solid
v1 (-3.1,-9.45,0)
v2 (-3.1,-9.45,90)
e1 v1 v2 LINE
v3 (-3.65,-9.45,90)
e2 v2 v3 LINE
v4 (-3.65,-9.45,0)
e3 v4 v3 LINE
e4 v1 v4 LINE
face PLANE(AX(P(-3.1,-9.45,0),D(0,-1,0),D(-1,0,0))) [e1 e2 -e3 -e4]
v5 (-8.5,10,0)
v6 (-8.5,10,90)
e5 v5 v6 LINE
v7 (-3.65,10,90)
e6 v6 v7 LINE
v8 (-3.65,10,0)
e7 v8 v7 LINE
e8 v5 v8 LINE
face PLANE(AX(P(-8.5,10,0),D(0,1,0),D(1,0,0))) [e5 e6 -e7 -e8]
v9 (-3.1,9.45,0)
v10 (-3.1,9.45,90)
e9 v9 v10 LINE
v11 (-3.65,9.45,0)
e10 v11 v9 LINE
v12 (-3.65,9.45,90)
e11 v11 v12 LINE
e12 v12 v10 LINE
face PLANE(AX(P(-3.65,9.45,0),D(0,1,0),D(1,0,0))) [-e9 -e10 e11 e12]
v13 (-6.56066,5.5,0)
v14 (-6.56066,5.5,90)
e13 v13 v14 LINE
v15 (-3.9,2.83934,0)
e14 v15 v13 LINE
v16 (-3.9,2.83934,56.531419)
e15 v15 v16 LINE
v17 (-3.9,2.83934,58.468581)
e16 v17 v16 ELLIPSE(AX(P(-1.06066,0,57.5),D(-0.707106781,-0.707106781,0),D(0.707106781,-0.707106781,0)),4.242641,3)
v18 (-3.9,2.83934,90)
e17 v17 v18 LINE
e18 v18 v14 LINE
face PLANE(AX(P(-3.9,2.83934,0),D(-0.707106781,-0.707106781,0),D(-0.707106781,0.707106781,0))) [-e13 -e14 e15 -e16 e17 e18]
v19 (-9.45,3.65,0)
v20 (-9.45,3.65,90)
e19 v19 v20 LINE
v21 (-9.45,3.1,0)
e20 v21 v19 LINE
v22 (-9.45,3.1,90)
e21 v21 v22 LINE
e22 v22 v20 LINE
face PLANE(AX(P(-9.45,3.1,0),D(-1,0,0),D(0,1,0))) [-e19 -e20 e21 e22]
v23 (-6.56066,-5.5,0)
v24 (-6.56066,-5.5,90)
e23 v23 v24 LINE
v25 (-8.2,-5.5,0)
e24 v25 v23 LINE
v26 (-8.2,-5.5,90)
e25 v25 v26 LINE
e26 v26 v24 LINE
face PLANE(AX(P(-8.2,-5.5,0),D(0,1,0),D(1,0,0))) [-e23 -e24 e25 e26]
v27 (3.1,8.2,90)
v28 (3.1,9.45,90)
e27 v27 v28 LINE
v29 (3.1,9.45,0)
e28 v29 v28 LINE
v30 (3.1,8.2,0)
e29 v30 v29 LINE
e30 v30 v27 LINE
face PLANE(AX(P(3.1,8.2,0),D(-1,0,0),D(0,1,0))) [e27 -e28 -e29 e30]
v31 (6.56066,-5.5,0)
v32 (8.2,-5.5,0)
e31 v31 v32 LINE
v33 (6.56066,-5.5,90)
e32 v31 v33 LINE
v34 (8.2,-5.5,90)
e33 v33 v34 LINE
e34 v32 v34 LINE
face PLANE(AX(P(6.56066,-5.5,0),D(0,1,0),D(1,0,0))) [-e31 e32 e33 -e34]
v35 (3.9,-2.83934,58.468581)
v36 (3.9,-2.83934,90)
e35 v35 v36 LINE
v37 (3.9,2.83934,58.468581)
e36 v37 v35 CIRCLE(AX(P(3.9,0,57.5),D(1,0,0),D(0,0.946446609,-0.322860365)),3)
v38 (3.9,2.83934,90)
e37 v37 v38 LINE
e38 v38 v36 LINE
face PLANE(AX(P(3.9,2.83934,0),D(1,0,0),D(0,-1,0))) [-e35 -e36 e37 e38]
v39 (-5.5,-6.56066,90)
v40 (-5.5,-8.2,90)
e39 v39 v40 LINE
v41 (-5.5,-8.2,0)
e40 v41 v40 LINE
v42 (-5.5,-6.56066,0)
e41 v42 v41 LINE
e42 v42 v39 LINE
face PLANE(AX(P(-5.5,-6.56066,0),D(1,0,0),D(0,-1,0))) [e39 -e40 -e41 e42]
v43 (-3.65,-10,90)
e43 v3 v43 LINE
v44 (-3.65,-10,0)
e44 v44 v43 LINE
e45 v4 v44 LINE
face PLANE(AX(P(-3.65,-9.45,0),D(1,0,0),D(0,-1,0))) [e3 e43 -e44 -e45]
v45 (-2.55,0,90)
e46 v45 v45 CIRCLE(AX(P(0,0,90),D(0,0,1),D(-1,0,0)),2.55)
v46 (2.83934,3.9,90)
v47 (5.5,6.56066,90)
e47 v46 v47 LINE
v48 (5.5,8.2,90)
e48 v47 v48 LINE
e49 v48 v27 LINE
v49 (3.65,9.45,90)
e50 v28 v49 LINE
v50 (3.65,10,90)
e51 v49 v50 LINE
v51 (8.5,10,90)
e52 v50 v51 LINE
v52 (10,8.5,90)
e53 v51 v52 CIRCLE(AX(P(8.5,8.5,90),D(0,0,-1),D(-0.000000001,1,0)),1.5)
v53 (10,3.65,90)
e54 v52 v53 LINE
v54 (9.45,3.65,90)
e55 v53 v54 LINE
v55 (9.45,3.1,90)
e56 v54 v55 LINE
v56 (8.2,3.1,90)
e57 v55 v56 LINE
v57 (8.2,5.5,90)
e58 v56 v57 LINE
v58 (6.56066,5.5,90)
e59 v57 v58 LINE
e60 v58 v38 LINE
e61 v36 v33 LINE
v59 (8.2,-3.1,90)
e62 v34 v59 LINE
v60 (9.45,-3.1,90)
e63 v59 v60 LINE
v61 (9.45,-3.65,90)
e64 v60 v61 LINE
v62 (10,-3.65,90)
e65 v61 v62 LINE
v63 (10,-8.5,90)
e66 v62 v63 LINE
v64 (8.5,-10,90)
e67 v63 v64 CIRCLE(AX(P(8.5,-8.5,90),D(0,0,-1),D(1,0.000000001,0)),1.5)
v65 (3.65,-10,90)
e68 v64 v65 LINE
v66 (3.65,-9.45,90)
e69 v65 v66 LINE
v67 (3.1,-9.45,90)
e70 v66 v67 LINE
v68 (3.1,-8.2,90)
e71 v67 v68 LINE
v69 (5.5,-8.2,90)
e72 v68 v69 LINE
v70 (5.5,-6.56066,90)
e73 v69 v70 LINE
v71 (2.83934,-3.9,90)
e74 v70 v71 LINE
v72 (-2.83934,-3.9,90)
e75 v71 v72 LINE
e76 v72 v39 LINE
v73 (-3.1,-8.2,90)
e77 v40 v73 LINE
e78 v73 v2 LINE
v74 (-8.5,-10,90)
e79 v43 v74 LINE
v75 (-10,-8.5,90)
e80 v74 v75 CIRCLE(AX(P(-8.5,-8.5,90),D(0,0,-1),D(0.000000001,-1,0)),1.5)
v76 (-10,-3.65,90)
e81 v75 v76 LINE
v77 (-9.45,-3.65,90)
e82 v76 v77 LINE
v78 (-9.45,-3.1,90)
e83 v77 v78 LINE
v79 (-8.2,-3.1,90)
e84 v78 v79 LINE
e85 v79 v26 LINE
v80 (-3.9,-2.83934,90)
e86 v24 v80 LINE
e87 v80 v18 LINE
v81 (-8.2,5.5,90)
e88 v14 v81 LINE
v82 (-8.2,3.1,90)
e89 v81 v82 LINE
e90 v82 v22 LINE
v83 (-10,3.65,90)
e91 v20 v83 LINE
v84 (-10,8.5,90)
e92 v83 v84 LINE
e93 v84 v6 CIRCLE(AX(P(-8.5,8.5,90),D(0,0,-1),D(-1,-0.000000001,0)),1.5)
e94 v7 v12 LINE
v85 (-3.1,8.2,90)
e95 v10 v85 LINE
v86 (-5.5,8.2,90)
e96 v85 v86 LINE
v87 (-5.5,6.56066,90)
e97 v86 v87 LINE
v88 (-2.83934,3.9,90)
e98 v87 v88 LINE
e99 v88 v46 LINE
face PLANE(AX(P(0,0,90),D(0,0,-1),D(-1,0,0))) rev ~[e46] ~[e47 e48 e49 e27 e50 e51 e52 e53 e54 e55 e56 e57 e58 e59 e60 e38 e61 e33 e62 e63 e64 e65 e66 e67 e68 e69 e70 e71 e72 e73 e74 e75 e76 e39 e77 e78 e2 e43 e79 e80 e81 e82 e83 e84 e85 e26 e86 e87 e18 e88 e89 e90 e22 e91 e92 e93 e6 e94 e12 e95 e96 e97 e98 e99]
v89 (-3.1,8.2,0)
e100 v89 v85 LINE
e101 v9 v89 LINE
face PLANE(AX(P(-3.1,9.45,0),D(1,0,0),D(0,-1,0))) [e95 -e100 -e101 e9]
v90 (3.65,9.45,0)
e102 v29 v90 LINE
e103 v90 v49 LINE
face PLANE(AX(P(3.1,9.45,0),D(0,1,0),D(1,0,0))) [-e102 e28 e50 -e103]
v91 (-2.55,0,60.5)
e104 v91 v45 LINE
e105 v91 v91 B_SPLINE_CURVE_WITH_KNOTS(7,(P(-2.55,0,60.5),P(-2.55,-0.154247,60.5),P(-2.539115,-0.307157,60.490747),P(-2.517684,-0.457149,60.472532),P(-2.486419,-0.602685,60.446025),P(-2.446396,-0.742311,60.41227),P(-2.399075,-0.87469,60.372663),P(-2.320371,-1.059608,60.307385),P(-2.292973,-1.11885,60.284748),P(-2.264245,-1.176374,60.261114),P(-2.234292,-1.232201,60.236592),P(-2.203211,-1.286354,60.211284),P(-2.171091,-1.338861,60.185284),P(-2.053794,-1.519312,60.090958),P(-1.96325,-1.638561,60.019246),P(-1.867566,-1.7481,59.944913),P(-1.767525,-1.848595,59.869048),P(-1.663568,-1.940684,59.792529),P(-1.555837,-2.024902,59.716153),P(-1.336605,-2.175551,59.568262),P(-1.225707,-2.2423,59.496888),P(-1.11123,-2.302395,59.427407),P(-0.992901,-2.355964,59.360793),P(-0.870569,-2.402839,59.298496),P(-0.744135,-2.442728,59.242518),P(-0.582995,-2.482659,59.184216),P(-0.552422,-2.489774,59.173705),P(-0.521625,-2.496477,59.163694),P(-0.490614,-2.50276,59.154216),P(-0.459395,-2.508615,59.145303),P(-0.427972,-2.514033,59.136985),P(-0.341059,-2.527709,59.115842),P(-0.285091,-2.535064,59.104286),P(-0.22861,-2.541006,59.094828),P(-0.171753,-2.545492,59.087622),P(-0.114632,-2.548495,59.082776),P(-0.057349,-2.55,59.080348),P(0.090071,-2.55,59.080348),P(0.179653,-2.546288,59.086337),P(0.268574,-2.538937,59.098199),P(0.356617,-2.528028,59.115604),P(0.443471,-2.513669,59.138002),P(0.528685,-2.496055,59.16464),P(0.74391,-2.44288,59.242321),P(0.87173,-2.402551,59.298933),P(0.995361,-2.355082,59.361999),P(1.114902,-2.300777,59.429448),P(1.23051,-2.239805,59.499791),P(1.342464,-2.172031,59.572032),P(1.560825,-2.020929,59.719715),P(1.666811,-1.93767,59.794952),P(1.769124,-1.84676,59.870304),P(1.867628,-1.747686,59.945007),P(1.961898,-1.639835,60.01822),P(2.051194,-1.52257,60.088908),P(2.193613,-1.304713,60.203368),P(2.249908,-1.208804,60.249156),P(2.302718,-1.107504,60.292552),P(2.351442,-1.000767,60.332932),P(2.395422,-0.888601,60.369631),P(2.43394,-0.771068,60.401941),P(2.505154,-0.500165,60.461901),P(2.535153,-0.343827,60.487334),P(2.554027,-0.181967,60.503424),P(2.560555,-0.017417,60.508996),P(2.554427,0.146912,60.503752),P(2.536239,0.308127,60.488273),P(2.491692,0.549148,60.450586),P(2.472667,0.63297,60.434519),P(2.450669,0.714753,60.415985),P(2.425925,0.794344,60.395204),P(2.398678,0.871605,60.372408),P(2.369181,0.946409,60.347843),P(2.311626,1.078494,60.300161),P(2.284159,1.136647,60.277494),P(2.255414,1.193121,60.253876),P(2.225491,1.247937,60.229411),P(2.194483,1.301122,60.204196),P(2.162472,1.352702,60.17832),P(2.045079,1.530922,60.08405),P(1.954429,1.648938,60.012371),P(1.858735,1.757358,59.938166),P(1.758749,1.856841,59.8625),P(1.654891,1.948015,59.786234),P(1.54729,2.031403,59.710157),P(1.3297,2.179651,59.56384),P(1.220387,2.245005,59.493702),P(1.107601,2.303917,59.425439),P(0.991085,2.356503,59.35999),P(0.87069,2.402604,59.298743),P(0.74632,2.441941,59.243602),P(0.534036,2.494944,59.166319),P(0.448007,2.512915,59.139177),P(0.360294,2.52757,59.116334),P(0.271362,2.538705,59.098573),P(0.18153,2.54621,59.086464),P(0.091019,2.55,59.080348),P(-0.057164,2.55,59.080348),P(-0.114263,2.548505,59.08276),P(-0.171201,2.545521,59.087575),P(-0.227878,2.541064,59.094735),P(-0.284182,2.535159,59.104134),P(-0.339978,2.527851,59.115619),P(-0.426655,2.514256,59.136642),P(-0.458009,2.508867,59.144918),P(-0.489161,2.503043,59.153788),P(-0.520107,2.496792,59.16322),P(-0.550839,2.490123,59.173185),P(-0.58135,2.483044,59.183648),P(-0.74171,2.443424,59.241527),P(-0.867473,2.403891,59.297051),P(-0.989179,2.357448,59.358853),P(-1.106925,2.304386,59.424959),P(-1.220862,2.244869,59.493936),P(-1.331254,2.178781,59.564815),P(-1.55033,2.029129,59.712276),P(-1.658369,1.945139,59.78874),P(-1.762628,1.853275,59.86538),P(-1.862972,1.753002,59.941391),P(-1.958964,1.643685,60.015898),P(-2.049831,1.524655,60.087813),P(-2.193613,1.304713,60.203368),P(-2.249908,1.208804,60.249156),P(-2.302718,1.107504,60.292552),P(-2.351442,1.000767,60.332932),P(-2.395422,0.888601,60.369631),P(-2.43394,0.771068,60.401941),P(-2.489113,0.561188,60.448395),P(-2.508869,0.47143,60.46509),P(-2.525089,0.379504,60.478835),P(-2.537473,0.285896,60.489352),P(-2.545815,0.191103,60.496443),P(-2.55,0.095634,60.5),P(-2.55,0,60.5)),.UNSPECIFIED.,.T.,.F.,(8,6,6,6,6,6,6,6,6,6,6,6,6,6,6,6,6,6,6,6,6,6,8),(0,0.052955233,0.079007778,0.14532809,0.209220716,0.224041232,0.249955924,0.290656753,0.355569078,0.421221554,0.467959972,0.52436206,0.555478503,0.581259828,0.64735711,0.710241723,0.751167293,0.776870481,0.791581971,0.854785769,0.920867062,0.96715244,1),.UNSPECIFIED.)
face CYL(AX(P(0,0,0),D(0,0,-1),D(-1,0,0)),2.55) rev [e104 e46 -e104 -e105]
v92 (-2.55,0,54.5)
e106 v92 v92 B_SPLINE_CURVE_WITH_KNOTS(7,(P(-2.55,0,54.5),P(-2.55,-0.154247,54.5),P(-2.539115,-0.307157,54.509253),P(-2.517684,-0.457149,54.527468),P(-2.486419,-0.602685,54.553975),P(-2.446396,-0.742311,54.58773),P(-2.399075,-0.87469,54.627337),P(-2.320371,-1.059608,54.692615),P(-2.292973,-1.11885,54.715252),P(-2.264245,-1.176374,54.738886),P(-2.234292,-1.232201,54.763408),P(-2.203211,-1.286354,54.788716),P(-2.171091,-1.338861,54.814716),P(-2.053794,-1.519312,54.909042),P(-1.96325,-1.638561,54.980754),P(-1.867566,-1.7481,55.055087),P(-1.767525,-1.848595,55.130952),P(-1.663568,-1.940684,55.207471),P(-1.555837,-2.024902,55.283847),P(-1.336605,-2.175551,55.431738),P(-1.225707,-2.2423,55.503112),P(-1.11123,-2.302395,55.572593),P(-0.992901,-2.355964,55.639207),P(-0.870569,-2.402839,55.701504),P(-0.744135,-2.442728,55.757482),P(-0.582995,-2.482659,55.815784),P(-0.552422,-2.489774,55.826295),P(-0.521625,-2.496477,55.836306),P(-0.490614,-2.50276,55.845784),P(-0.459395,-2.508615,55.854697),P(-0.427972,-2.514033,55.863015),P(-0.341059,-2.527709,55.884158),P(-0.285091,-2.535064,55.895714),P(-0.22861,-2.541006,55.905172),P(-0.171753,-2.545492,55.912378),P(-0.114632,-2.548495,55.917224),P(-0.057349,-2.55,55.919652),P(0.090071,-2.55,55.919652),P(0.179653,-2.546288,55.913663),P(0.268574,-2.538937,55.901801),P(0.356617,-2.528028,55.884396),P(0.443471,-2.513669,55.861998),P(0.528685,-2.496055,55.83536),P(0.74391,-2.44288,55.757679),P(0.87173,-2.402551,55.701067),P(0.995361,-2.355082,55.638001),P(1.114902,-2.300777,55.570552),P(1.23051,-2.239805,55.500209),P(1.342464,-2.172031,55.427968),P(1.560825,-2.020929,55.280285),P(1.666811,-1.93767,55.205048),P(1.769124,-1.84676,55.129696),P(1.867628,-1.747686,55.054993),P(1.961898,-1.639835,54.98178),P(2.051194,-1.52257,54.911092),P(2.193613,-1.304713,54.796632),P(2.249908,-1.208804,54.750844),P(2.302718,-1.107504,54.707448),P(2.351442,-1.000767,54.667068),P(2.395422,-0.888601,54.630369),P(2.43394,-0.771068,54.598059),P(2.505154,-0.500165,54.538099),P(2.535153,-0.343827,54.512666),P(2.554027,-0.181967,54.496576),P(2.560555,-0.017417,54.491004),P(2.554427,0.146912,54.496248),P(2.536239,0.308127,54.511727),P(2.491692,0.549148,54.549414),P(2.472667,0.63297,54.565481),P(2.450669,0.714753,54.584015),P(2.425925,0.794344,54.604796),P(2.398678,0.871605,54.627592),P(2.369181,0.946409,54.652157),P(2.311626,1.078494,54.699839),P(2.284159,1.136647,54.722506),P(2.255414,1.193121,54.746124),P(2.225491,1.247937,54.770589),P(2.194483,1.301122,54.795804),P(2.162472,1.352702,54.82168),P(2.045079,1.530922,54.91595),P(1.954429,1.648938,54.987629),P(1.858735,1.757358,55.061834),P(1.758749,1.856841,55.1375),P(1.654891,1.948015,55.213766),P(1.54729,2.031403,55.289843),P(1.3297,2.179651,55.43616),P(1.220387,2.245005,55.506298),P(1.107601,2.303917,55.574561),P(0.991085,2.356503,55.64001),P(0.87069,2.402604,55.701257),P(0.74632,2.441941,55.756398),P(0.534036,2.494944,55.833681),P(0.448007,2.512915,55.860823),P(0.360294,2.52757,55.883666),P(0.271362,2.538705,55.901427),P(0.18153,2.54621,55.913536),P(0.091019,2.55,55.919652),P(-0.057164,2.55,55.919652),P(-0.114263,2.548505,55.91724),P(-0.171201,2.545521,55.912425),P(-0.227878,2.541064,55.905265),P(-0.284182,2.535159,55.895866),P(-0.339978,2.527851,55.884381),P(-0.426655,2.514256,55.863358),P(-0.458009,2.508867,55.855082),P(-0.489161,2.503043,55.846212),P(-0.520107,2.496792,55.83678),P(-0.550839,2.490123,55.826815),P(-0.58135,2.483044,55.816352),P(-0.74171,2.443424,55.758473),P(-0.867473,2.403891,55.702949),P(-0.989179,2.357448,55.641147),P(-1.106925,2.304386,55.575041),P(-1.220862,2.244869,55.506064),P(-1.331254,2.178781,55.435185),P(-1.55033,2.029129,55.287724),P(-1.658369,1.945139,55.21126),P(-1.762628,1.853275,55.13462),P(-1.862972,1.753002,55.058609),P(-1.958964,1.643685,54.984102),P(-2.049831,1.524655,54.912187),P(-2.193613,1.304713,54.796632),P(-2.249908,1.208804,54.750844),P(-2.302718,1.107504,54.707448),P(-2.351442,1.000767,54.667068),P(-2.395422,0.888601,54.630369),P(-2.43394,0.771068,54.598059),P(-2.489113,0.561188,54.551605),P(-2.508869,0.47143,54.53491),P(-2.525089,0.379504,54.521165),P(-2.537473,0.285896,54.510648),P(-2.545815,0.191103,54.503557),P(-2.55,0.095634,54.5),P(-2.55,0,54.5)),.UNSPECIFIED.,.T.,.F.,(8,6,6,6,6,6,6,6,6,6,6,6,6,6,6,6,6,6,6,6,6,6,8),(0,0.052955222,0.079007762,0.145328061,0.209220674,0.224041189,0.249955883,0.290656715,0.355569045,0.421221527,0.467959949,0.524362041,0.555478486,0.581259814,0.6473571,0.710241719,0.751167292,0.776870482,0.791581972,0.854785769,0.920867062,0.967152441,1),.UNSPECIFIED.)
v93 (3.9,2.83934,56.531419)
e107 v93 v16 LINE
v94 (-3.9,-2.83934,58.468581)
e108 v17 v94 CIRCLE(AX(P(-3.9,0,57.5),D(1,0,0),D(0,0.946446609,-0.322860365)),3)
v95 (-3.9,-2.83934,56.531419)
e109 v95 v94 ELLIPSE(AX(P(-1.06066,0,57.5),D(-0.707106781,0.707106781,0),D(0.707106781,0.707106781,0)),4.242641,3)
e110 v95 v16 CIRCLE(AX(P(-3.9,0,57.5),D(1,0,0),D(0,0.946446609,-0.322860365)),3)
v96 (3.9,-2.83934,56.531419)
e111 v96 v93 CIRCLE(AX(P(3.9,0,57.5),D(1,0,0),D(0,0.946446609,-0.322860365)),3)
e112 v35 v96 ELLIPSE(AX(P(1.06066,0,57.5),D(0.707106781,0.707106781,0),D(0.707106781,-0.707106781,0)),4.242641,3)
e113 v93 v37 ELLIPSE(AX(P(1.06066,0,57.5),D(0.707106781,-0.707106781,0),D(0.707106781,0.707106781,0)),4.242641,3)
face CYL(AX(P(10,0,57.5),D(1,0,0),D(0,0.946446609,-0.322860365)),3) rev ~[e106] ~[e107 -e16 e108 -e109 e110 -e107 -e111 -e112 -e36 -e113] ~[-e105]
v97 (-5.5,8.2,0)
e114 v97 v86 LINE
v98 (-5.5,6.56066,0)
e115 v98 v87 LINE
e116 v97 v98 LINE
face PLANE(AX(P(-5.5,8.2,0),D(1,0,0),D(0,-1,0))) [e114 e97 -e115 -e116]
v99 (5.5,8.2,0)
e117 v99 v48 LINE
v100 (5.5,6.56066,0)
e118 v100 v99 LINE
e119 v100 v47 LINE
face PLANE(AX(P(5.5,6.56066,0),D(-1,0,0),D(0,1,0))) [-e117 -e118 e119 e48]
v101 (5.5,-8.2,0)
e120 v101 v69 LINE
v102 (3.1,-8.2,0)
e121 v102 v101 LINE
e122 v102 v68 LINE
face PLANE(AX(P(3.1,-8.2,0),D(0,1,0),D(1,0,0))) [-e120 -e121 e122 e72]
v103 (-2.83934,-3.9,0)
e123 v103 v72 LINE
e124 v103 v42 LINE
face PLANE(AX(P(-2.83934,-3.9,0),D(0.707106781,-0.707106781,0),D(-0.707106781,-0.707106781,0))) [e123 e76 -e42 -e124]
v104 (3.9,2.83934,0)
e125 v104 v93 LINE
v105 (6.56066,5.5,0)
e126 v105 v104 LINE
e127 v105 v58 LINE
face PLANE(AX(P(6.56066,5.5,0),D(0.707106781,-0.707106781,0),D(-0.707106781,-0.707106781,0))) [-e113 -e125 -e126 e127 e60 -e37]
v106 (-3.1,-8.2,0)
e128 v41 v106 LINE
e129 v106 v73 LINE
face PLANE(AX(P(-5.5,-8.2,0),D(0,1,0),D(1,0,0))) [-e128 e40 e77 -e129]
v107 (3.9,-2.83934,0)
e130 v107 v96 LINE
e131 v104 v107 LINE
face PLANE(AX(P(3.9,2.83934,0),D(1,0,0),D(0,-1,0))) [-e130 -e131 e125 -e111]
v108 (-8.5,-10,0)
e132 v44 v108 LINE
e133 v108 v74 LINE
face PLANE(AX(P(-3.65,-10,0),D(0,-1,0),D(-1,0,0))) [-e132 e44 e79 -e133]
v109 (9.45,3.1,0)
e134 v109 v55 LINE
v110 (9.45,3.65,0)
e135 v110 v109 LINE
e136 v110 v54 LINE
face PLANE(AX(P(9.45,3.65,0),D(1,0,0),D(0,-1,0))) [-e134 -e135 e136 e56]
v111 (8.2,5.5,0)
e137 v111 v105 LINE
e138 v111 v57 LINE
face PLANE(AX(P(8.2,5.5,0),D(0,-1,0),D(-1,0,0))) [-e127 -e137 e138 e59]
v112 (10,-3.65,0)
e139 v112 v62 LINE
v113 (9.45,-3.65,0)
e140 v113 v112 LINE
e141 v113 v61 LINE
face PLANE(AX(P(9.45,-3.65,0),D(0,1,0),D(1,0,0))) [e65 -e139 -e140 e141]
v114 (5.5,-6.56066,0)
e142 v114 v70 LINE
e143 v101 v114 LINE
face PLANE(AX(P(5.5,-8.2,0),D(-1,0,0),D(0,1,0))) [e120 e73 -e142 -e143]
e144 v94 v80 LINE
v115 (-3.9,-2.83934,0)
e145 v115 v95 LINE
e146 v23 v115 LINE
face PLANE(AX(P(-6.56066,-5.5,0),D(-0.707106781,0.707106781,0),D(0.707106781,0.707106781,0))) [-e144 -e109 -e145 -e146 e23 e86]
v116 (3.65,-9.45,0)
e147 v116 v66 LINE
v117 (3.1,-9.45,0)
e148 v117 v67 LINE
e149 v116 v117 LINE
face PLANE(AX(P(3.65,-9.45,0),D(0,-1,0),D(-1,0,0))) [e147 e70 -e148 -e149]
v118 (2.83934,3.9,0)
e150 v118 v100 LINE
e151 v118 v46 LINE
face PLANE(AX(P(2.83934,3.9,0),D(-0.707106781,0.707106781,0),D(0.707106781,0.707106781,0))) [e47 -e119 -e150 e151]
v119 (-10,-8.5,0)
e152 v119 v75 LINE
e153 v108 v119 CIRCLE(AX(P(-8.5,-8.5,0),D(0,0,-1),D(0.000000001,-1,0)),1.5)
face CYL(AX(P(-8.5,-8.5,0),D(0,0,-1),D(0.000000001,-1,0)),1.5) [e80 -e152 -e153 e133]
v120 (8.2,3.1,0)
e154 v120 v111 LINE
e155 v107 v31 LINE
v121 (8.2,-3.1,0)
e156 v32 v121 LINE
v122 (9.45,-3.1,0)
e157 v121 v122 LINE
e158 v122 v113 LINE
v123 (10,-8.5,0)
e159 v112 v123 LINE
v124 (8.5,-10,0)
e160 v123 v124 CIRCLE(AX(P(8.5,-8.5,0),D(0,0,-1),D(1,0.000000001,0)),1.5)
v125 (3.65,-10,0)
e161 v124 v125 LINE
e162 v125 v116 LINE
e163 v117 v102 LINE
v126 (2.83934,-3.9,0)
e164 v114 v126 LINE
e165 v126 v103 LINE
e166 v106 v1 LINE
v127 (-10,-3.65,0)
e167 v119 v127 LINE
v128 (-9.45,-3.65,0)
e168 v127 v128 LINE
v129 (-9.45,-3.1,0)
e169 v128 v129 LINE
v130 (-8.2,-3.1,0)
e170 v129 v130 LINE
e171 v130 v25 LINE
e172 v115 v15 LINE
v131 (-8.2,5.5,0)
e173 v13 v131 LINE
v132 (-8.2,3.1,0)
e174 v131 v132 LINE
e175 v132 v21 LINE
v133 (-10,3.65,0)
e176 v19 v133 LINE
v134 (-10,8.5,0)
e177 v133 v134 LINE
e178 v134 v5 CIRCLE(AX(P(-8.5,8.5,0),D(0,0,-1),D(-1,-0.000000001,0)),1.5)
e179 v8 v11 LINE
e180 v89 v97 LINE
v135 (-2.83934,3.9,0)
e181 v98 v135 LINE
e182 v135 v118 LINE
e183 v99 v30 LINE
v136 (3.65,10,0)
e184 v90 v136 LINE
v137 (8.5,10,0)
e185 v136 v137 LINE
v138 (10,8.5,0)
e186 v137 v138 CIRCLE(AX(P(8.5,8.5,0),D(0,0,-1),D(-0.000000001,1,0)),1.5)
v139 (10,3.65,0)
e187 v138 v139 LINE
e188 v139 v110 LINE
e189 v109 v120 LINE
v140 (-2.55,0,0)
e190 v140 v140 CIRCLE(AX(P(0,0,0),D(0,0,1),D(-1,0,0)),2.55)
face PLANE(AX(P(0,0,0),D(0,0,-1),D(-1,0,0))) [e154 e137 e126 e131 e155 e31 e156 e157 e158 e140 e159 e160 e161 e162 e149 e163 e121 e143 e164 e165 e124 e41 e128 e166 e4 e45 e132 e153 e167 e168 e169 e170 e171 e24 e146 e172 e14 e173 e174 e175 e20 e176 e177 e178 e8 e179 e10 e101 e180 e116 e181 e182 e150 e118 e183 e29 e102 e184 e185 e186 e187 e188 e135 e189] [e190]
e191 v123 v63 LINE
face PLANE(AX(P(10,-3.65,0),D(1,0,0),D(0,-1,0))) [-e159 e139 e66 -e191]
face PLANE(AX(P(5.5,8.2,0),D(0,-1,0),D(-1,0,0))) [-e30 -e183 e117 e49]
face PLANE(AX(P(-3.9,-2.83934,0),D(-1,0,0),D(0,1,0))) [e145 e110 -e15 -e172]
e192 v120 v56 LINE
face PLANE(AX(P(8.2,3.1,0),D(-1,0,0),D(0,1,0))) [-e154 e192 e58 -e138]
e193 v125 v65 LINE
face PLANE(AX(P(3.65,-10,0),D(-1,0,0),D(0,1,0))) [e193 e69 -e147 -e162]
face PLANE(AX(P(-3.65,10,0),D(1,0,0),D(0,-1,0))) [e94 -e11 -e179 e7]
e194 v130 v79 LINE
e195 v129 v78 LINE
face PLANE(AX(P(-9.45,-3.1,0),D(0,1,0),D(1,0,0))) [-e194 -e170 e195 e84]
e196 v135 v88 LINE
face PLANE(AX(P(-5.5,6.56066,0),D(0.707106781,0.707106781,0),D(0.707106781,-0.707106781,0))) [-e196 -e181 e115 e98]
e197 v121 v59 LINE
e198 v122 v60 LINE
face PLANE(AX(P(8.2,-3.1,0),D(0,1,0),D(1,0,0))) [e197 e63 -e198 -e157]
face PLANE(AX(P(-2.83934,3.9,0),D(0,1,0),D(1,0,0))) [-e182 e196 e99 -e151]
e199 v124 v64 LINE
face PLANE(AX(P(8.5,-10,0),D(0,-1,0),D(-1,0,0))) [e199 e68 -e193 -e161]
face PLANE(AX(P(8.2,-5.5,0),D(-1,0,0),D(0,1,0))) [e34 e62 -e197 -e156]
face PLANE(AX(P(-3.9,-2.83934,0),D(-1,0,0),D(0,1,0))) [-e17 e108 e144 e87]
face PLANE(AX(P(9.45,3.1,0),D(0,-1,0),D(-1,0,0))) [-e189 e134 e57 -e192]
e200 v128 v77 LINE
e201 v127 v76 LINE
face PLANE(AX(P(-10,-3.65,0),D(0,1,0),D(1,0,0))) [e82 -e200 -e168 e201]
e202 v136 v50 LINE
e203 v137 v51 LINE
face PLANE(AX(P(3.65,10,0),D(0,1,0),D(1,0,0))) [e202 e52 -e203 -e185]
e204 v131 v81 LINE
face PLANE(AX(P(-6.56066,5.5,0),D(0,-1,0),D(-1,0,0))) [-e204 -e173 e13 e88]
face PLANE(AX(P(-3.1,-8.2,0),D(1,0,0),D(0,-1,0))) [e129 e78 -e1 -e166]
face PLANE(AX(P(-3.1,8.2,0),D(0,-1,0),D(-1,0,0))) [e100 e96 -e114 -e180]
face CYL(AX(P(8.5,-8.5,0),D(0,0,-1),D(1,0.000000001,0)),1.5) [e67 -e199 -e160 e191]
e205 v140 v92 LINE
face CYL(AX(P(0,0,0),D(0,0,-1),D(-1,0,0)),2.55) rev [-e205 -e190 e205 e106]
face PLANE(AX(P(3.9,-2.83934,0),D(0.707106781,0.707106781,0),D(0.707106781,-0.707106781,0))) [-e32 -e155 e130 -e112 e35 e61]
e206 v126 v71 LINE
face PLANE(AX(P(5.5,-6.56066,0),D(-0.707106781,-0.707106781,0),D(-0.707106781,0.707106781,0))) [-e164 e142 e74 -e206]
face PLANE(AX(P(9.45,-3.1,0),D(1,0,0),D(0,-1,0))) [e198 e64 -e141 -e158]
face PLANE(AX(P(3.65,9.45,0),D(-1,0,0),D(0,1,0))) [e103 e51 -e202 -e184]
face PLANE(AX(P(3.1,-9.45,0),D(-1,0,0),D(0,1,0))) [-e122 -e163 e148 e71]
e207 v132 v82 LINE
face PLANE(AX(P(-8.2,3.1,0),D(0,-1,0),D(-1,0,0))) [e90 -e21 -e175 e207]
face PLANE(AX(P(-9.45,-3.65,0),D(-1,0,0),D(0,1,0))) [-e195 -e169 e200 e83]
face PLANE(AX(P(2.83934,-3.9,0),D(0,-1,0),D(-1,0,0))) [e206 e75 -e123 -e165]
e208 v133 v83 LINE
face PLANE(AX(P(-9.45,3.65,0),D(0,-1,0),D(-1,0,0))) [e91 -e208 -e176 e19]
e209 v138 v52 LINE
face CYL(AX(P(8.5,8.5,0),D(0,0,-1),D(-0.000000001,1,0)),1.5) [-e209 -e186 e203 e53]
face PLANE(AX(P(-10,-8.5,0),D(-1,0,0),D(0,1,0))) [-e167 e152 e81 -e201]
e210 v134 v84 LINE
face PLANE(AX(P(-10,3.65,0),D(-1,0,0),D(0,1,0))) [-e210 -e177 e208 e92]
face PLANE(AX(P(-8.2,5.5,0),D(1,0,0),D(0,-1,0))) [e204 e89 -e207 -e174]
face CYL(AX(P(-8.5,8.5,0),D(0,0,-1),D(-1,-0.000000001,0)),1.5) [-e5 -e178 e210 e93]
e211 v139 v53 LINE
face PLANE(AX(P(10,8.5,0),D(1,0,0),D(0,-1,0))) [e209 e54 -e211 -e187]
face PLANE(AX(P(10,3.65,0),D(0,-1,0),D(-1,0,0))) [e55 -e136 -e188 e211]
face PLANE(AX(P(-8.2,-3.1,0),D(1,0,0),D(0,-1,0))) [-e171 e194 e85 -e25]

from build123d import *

# Parameters (mm, degrees)
SKETCH_2_R          = 2.55
EXTRUDE_1_DEPTH     = 90
SKETCH_3_R          = 3
CUT_EXTRUDE_1_DEPTH = 93.736184955


with BuildPart() as part:
    # 草图2 → 凸台-拉伸1 (new body)
    with BuildSketch(Plane.XY):
        with BuildLine():
            Line((-3.9, 2.839339828), (-6.560660172, 5.5))
            Line((-6.560660172, 5.5), (-8.2, 5.5))
            Line((-8.2, 5.5), (-8.2, 3.1))
            Line((-8.2, 3.1), (-9.45, 3.1))
            Line((-9.45, 3.1), (-9.45, 3.65))
            Line((-9.45, 3.65), (-10, 3.65))
            Line((-10, 3.65), (-10, 8.5))
            ThreePointArc((-10, 8.5), (-9.560660172, 9.560660172), (-8.5, 10))
            Line((-8.5, 10), (-3.65, 10))
            Line((-3.65, 10), (-3.65, 9.45))
            Line((-3.65, 9.45), (-3.1, 9.45))
            Line((-3.1, 9.45), (-3.1, 8.2))
            Line((-3.1, 8.2), (-5.5, 8.2))
            Line((-5.5, 8.2), (-5.5, 6.560660172))
            Line((-5.5, 6.560660172), (-2.839339828, 3.9))
            Line((-2.839339828, 3.9), (2.839339828, 3.9))
            Line((2.839339828, 3.9), (5.5, 6.560660172))
            Line((5.5, 6.560660172), (5.5, 8.2))
            Line((5.5, 8.2), (3.1, 8.2))
            Line((3.1, 8.2), (3.1, 9.45))
            Line((3.1, 9.45), (3.65, 9.45))
            Line((3.65, 9.45), (3.65, 10))
            Line((3.65, 10), (8.5, 10))
            ThreePointArc((8.5, 10), (9.560660172, 9.560660172), (10, 8.5))
            Line((10, 8.5), (10, 3.65))
            Line((10, 3.65), (9.45, 3.65))
            Line((9.45, 3.65), (9.45, 3.1))
            Line((9.45, 3.1), (8.2, 3.1))
            Line((8.2, 3.1), (8.2, 5.5))
            Line((8.2, 5.5), (6.560660172, 5.5))
            Line((6.560660172, 5.5), (3.9, 2.839339828))
            Line((3.9, 2.839339828), (3.9, -2.839339828))
            Line((3.9, -2.839339828), (6.560660172, -5.5))
            Line((6.560660172, -5.5), (8.2, -5.5))
            Line((8.2, -5.5), (8.2, -3.1))
            Line((8.2, -3.1), (9.45, -3.1))
            Line((9.45, -3.1), (9.45, -3.65))
            Line((9.45, -3.65), (10, -3.65))
            Line((10, -3.65), (10, -8.5))
            ThreePointArc((10, -8.5), (9.560660172, -9.560660172), (8.5, -10))
            Line((8.5, -10), (3.65, -10))
            Line((3.65, -10), (3.65, -9.45))
            Line((3.65, -9.45), (3.1, -9.45))
            Line((3.1, -9.45), (3.1, -8.2))
            Line((3.1, -8.2), (5.5, -8.2))
            Line((5.5, -8.2), (5.5, -6.560660172))
            Line((5.5, -6.560660172), (2.839339828, -3.9))
            Line((2.839339828, -3.9), (-2.839339828, -3.9))
            Line((-2.839339828, -3.9), (-5.5, -6.560660172))
            Line((-5.5, -6.560660172), (-5.5, -8.2))
            Line((-5.5, -8.2), (-3.1, -8.2))
            Line((-3.1, -8.2), (-3.1, -9.45))
            Line((-3.1, -9.45), (-3.65, -9.45))
            Line((-3.65, -9.45), (-3.65, -10))
            Line((-3.65, -10), (-8.5, -10))
            ThreePointArc((-8.5, -10), (-9.560660172, -9.560660172), (-10, -8.5))
            Line((-10, -8.5), (-10, -3.65))
            Line((-10, -3.65), (-9.45, -3.65))
            Line((-9.45, -3.65), (-9.45, -3.1))
            Line((-9.45, -3.1), (-8.2, -3.1))
            Line((-8.2, -3.1), (-8.2, -5.5))
            Line((-8.2, -5.5), (-6.560660172, -5.5))
            Line((-6.560660172, -5.5), (-3.9, -2.839339828))
            Line((-3.9, -2.839339828), (-3.9, 2.839339828))
        make_face()
        with Locations(Location((0, 0, 0), (0, 0, 180))):
            Circle(SKETCH_2_R, mode=Mode.SUBTRACT)
    extrude(amount=EXTRUDE_1_DEPTH)

    # 草图3 → 切除-拉伸1 (cut, through all)
    with BuildSketch(Plane(origin=(10, 0, 0), x_dir=(0, 0, -1), z_dir=(1, 0, 0))):
        with Locations(Location((-57.5, 0, 0), (0, 0, 71.16400384))):
            Circle(SKETCH_3_R)
        with Locations((-302.5, 0)):
            Circle(SKETCH_3_R)
    extrude(amount=-CUT_EXTRUDE_1_DEPTH, mode=Mode.SUBTRACT)


solid = part.part
